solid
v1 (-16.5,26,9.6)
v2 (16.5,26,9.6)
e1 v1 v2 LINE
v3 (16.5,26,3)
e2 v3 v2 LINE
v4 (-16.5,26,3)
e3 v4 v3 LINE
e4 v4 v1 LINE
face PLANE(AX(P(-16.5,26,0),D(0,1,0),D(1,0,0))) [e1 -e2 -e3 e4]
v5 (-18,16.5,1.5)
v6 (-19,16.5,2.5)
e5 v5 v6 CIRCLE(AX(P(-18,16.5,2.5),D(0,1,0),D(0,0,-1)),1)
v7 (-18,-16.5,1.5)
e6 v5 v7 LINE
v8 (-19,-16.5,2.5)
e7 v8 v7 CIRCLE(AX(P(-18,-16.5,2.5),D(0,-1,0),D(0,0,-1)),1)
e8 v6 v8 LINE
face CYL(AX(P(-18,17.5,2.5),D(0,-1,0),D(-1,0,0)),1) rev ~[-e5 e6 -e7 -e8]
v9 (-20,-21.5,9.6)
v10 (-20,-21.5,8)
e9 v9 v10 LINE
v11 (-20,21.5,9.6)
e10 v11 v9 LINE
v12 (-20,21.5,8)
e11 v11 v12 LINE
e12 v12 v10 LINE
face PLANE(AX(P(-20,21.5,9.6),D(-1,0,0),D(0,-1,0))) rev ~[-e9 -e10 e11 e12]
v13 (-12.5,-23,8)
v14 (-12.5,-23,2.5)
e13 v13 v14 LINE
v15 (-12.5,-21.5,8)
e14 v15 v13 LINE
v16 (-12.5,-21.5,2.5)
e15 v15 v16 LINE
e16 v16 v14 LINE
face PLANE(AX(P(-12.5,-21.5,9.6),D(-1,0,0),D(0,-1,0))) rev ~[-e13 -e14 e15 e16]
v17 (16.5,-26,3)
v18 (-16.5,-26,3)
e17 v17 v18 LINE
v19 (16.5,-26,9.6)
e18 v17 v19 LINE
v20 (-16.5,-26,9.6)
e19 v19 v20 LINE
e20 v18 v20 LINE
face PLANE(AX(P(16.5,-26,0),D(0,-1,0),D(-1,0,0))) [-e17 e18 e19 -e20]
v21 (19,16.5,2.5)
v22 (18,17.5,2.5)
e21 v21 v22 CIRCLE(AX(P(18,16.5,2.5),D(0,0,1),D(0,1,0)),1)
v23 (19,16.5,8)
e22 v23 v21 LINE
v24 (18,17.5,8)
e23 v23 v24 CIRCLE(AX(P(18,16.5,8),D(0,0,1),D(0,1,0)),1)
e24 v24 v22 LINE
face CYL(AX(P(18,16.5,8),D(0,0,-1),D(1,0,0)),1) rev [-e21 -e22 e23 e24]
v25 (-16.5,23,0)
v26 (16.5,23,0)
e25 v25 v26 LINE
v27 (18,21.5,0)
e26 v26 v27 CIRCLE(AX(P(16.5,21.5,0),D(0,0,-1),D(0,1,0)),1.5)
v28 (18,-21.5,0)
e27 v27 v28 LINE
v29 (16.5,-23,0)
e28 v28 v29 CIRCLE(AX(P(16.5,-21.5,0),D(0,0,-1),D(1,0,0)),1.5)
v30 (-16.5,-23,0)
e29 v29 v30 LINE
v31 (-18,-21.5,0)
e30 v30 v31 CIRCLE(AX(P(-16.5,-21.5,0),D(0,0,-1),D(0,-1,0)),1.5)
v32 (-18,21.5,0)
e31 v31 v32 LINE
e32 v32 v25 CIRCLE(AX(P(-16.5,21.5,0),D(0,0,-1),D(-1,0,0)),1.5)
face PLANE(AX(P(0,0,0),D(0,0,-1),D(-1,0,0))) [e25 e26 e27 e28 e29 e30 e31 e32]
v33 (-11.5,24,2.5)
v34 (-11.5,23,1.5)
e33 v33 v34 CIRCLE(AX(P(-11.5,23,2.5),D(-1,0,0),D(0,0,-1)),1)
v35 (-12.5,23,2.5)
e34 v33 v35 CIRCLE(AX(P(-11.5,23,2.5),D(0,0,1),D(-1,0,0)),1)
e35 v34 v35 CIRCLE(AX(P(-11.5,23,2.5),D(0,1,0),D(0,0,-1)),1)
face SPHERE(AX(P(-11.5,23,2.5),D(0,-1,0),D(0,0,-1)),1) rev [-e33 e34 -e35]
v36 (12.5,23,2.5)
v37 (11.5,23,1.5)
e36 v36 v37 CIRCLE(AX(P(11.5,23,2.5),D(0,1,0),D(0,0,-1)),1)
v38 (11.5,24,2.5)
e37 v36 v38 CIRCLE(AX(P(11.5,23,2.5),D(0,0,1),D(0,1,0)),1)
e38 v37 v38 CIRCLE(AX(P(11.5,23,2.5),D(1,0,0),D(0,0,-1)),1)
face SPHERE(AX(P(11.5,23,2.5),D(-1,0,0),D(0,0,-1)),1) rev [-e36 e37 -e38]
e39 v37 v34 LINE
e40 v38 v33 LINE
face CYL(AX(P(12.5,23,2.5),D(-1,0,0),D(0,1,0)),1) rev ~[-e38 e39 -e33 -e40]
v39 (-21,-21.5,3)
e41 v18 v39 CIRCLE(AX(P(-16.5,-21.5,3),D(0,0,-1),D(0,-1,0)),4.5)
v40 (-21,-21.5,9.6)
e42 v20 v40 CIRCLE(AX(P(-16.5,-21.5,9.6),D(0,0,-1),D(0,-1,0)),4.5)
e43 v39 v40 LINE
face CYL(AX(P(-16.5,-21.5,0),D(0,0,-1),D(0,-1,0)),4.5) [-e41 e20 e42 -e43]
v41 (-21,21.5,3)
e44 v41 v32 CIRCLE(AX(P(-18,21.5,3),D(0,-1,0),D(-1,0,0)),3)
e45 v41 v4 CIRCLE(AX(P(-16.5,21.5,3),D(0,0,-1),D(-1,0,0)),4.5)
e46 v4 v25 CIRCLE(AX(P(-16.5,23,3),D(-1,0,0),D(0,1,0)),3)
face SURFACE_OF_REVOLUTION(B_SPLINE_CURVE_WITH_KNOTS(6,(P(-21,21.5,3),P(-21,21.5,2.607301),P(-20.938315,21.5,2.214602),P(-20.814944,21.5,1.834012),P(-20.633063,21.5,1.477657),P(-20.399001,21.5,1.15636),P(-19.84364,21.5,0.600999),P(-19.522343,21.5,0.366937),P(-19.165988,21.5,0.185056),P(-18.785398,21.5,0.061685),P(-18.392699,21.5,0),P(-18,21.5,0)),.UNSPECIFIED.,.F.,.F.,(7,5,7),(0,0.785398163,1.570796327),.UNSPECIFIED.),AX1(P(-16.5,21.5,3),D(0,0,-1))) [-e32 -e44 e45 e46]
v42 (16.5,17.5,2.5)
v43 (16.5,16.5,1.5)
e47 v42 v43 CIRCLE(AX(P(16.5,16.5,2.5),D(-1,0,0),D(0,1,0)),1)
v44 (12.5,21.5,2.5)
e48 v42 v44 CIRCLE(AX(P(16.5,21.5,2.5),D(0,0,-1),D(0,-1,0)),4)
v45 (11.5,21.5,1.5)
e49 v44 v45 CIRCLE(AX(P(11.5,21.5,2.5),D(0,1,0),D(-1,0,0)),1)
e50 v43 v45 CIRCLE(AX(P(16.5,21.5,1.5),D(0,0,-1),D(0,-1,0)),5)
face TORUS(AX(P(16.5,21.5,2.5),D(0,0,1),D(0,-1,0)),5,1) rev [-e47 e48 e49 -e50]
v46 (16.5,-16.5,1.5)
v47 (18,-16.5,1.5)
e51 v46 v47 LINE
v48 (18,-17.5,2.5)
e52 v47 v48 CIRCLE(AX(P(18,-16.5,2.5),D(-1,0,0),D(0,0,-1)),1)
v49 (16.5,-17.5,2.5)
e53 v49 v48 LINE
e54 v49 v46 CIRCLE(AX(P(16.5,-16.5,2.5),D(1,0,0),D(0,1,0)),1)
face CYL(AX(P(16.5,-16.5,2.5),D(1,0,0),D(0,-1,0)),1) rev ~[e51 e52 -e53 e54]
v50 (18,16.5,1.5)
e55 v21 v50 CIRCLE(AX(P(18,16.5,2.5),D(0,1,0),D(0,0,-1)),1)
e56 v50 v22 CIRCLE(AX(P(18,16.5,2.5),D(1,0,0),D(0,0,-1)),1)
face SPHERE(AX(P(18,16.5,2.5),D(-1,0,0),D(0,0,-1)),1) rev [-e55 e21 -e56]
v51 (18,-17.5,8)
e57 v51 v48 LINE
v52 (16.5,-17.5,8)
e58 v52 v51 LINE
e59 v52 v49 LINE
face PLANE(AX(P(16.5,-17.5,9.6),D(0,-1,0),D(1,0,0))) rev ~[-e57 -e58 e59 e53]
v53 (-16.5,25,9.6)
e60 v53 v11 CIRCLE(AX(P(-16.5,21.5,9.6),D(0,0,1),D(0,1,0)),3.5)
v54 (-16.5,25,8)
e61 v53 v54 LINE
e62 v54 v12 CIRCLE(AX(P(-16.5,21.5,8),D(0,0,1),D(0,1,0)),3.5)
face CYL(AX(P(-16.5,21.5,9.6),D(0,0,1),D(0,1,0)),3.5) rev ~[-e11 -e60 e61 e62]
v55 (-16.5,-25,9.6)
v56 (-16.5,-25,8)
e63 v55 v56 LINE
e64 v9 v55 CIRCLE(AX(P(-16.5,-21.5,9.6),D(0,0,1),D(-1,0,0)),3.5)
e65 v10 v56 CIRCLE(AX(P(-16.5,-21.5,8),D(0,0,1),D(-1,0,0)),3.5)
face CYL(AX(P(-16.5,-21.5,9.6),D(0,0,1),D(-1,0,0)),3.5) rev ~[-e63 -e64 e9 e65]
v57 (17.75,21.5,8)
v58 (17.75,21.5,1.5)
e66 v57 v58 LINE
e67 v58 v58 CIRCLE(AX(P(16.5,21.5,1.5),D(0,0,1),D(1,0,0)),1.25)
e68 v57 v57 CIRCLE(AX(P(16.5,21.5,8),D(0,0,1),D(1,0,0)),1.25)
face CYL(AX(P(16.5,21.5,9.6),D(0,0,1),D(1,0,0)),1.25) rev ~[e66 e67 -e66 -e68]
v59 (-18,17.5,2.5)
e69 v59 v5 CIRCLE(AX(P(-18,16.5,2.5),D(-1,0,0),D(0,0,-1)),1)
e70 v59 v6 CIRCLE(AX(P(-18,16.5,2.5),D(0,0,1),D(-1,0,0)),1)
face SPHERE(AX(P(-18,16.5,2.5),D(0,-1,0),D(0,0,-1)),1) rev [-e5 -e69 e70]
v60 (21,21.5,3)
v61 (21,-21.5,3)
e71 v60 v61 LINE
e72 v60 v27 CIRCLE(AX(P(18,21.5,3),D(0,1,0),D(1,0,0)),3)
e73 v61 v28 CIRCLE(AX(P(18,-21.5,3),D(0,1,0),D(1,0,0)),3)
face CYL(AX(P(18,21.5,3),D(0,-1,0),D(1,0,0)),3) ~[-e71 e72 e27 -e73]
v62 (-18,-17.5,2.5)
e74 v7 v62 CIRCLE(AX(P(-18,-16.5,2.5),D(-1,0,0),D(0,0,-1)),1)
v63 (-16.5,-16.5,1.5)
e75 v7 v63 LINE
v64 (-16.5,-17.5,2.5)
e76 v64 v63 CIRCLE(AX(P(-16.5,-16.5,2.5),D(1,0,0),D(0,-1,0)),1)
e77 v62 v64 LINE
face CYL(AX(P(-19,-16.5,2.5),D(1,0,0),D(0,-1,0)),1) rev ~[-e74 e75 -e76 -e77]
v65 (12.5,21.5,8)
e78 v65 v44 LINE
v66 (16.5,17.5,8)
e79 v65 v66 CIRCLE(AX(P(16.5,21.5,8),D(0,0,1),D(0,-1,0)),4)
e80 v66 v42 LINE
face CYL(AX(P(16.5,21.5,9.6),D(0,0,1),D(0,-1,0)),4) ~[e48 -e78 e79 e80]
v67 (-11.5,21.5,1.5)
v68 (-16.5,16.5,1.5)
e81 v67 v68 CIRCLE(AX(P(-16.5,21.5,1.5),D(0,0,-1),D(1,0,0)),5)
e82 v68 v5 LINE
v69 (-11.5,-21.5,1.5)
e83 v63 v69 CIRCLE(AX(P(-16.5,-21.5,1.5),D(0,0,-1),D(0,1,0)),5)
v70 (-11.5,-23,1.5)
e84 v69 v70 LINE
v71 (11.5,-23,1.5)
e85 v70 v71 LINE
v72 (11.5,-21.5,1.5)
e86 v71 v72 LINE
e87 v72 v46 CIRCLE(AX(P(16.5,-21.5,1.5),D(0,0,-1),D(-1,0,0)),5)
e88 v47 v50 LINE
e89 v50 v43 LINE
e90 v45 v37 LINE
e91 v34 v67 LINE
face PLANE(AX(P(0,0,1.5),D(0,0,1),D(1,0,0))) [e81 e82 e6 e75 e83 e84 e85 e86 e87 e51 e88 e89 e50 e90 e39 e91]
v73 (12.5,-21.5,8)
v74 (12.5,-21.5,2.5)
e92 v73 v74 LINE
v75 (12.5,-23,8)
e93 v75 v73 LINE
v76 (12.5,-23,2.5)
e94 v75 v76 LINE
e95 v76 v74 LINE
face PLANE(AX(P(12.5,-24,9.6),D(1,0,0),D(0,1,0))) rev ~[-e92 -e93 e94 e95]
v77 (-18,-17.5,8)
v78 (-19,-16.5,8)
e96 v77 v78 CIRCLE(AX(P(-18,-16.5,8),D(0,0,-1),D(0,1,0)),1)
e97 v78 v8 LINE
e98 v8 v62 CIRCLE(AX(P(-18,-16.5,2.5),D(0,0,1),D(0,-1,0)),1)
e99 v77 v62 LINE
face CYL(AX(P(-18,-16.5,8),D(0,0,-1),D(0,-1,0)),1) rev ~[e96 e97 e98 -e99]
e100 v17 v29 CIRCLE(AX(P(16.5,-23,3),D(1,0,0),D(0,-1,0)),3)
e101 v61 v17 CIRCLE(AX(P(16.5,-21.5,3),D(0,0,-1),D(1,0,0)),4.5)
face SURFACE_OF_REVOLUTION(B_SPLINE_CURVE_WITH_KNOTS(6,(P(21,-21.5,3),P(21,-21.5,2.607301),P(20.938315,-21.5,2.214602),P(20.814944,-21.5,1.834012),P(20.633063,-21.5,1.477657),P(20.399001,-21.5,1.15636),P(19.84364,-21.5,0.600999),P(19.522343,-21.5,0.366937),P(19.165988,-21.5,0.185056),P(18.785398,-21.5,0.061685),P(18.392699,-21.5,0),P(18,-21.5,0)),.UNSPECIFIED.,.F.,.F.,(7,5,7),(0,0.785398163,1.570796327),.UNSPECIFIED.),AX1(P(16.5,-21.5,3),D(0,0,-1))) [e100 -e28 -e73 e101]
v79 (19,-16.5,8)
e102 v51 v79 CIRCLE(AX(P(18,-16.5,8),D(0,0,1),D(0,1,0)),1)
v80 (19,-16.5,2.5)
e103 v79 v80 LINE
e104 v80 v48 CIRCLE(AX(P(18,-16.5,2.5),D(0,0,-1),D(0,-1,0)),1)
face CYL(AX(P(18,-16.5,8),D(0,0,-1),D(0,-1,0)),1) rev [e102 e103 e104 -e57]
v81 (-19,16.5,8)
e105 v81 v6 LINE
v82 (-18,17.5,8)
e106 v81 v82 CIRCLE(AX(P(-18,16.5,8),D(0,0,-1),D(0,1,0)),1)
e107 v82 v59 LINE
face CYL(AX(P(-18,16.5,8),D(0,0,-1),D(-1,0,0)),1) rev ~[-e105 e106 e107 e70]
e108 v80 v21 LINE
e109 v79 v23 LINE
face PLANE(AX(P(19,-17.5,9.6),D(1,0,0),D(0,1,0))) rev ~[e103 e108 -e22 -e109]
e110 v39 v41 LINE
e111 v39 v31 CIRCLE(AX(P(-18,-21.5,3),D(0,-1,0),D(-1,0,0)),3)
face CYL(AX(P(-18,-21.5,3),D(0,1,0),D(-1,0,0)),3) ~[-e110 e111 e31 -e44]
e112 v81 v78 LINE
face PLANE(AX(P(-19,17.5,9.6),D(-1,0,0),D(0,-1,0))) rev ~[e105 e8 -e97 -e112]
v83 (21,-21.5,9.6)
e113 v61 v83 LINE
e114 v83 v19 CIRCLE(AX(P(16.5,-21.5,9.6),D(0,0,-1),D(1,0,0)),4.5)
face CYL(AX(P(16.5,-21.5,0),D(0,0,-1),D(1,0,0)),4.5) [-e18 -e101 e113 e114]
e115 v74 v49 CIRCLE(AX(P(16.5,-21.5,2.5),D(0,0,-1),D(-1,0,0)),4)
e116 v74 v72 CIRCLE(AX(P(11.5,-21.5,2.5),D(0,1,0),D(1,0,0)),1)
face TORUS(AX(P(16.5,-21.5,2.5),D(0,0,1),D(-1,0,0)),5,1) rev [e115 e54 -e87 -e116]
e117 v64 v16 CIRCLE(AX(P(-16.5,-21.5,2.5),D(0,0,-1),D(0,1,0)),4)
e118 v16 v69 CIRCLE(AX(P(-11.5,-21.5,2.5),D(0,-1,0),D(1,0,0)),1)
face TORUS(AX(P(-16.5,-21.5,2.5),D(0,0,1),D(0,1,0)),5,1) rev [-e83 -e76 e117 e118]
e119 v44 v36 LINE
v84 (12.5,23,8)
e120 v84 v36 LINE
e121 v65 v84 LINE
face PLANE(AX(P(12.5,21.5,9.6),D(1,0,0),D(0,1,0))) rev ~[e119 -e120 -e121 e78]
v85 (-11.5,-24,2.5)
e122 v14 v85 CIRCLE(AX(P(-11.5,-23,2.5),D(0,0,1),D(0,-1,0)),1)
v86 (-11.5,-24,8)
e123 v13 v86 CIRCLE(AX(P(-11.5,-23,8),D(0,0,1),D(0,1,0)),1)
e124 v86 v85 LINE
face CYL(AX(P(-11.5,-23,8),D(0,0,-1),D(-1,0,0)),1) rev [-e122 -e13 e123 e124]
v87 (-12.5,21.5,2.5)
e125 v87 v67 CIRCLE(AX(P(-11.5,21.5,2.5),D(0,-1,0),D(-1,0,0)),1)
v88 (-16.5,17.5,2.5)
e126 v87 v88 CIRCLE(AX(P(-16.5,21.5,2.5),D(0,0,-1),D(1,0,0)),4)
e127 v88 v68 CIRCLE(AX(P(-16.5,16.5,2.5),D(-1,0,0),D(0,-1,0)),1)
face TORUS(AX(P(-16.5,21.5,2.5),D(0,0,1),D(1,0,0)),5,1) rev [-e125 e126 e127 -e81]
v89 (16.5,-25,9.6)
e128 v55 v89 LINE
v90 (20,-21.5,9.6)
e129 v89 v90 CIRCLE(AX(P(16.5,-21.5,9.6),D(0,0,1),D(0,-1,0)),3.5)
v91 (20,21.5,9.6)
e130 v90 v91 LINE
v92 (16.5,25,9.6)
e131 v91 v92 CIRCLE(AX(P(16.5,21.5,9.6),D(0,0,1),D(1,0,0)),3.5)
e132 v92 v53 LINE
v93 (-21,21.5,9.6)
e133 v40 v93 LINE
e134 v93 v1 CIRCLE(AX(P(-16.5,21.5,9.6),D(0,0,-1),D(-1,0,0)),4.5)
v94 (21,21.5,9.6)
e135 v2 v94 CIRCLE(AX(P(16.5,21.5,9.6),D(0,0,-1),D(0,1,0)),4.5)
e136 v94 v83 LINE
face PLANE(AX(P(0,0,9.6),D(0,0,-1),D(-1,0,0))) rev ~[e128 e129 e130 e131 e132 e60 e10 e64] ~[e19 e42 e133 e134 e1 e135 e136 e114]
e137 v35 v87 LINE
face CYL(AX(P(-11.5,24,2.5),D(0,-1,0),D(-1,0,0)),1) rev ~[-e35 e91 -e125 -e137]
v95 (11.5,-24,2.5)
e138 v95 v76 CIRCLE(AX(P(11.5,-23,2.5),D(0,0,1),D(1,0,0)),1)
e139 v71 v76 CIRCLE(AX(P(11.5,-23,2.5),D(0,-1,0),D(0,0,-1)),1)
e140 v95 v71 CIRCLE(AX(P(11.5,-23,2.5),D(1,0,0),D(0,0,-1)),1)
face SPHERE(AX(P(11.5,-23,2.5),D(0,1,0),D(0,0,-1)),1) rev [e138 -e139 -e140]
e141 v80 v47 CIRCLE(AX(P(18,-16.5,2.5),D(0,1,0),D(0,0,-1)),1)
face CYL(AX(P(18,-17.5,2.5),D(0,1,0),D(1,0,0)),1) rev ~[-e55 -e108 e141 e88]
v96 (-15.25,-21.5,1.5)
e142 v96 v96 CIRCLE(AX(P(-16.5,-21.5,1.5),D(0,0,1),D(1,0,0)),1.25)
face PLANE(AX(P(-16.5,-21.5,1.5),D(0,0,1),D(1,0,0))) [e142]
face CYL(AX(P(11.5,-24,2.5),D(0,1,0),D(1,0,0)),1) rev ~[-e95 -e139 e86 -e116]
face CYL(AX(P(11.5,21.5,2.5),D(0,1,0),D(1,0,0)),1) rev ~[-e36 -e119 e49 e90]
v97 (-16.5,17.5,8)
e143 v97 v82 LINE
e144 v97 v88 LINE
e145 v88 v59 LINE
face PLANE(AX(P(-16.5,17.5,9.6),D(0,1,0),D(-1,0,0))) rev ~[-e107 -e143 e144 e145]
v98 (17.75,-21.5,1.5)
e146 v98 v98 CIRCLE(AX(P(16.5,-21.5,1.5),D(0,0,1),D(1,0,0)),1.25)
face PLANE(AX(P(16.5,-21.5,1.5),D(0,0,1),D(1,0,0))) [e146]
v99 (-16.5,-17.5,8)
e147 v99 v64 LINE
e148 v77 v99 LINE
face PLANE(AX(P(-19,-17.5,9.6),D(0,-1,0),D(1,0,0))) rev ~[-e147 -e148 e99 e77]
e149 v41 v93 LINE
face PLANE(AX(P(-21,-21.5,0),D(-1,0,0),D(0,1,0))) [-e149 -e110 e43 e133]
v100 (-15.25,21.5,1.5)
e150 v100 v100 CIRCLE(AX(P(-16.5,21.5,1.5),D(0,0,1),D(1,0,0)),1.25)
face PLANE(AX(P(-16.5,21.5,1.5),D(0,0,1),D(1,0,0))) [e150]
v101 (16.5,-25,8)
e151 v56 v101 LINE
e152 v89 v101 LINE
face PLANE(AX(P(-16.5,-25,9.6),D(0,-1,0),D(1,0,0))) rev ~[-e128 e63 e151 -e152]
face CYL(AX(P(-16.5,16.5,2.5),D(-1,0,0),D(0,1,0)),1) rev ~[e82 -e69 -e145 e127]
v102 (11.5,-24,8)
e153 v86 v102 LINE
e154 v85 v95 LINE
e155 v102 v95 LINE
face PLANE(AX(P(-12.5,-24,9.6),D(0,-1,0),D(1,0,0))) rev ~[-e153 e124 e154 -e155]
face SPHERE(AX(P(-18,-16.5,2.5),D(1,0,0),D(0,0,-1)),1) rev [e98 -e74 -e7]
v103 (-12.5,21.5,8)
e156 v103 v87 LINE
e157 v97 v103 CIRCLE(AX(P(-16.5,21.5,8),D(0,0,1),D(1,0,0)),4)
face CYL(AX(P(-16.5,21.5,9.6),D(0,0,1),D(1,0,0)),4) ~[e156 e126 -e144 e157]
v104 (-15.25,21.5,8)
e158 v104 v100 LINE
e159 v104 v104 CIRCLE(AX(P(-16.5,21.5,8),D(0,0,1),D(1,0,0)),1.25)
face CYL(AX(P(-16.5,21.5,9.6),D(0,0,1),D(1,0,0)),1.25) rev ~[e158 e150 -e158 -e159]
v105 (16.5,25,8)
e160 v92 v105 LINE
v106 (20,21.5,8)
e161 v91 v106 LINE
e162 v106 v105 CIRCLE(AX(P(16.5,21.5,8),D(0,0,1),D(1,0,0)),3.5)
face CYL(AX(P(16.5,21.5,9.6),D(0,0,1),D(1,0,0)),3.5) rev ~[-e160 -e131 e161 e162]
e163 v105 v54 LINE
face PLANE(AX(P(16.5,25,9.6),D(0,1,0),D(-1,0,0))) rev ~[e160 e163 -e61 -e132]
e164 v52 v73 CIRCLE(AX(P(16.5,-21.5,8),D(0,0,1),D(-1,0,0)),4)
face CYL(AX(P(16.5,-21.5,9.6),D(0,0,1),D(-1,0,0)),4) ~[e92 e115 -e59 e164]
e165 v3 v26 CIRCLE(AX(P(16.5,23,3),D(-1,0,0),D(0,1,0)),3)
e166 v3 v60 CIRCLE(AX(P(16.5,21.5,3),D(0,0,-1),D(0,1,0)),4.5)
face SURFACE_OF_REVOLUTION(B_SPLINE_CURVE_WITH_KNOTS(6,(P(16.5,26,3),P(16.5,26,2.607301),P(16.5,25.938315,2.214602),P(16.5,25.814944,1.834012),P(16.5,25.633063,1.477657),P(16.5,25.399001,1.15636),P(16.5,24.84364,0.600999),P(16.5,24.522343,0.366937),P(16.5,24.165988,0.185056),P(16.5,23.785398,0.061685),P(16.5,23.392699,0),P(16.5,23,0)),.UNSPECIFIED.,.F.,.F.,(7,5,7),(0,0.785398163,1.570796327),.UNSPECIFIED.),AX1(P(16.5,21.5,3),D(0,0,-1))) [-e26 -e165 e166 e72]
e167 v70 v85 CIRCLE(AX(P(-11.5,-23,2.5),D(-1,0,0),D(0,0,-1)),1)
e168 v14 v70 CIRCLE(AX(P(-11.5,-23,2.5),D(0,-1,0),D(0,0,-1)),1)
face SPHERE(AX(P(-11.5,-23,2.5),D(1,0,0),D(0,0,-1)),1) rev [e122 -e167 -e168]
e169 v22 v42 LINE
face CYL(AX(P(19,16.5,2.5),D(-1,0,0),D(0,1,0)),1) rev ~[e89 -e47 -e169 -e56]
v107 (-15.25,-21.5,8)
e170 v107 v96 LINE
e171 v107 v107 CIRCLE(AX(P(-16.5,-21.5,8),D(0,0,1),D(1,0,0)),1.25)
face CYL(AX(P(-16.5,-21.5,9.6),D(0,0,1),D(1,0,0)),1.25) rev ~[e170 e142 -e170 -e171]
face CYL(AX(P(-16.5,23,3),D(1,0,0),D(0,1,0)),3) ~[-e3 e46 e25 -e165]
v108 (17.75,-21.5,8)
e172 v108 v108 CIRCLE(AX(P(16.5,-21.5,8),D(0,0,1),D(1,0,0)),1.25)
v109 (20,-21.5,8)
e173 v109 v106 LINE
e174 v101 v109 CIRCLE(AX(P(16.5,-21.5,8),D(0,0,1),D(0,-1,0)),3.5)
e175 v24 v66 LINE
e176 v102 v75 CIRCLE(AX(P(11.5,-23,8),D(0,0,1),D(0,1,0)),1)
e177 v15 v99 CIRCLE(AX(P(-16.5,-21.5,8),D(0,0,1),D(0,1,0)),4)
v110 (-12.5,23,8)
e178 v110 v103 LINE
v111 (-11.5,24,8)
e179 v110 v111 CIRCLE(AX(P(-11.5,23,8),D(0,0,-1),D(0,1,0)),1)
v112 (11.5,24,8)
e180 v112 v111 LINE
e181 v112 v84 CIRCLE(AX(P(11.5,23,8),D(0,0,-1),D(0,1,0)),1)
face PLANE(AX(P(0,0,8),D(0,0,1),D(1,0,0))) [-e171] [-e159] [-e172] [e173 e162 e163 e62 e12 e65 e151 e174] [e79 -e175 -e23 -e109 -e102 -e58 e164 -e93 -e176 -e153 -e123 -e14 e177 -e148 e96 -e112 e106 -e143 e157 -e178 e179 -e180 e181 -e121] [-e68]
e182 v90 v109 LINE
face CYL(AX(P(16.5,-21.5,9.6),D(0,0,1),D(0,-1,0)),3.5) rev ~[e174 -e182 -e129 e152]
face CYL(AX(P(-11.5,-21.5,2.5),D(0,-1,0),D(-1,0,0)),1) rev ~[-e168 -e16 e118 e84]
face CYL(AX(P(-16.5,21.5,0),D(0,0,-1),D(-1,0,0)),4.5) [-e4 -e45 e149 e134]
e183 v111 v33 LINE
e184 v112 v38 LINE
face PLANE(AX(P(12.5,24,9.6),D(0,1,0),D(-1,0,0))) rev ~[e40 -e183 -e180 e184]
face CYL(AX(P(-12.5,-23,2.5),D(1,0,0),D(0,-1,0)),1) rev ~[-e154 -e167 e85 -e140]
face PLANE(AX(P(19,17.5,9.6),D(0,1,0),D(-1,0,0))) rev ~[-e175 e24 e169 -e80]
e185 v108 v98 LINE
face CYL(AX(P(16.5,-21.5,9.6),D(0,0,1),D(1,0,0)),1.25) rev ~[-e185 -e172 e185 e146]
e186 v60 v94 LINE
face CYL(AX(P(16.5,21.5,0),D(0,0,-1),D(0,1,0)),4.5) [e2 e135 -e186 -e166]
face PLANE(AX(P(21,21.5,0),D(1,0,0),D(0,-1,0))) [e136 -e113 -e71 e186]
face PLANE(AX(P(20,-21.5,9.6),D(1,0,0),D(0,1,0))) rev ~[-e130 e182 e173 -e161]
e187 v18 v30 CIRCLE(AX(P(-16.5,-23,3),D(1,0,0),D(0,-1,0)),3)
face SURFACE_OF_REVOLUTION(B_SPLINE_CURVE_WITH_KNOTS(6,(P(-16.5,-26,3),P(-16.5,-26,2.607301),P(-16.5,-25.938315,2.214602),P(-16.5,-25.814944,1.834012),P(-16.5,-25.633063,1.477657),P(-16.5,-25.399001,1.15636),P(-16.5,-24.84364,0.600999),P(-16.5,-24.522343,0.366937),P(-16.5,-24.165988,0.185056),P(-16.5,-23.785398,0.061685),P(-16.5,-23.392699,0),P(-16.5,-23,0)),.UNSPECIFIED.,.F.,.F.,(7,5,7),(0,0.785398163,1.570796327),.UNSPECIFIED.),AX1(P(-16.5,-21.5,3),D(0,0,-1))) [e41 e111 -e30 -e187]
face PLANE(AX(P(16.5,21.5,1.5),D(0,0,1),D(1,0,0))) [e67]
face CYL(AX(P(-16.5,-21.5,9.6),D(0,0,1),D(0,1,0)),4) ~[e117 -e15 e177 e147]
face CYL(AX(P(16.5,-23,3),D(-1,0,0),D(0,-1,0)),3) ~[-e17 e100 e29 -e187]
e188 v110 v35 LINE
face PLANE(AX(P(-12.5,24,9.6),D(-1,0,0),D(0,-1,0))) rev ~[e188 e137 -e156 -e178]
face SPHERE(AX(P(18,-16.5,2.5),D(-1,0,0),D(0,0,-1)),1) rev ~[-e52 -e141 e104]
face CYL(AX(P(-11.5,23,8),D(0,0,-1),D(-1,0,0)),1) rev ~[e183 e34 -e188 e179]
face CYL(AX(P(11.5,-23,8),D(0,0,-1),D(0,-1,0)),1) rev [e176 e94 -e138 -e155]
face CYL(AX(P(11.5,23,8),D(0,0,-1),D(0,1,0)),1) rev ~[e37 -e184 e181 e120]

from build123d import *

# Parameters (mm, degrees)
BOSS_EXTRUDE1_DEPTH = 9.6
CUT_EXTRUDE1_START  = 9.6
CUT_EXTRUDE1_DEPTH  = 1.6
CUT_EXTRUDE2_START  = 9.6
CUT_EXTRUDE2_DEPTH  = 8.1
CUT_EXTRUDE3_START  = 9.6
SKETCH5_R           = 1.25
CUT_EXTRUDE3_DEPTH  = 8.1
FILLET2_R           = 1
FILLET3_R           = 3


with BuildPart() as part:
    # Sketch2 → Boss-Extrude1 (new body)
    with BuildSketch(Plane.XY):
        with BuildLine():
            Line((21, 21.5), (21, -21.5))
            ThreePointArc((21, -21.5), (19.681980515, -24.681980515), (16.5, -26))
            Line((16.5, -26), (-16.5, -26))
            ThreePointArc((-16.5, -26), (-19.681980515, -24.681980515), (-21, -21.5))
            Line((-21, -21.5), (-21, 21.5))
            ThreePointArc((-21, 21.5), (-19.681980515, 24.681980515), (-16.5, 26))
            Line((-16.5, 26), (16.5, 26))
            ThreePointArc((16.5, 26), (19.681980515, 24.681980515), (21, 21.5))
        make_face()
    extrude(amount=BOSS_EXTRUDE1_DEPTH)

    # Sketch3 → Cut-Extrude1 (cut)
    with BuildSketch(Plane.XY.offset(CUT_EXTRUDE1_START)):
        with BuildLine():
            Line((-20, 21.5), (-20, -21.5))
            ThreePointArc((-20, -21.5), (-18.974873734, -23.974873734), (-16.5, -25))
            Line((-16.5, -25), (16.5, -25))
            ThreePointArc((16.5, -25), (18.974873734, -23.974873734), (20, -21.5))
            Line((20, -21.5), (20, 21.5))
            ThreePointArc((20, 21.5), (18.974873734, 23.974873734), (16.5, 25))
            Line((16.5, 25), (-16.5, 25))
            ThreePointArc((-16.5, 25), (-18.974873734, 23.974873734), (-20, 21.5))
        make_face()
    extrude(amount=-CUT_EXTRUDE1_DEPTH, mode=Mode.SUBTRACT)

    # Sketch4 → Cut-Extrude2 (cut)
    with BuildSketch(Plane.XY.offset(CUT_EXTRUDE2_START)):
        with BuildLine():
            Line((-12.5, -21.5), (-12.5, -24))
            Line((-12.5, -24), (12.5, -24))
            Line((12.5, -24), (12.5, -21.5))
            ThreePointArc((12.5, -21.5), (13.671572875, -18.671572875), (16.5, -17.5))
            Line((16.5, -17.5), (19, -17.5))
            Line((19, -17.5), (19, 17.5))
            Line((19, 17.5), (16.5, 17.5))
            ThreePointArc((16.5, 17.5), (13.671572875, 18.671572875), (12.5, 21.5))
            Line((12.5, 21.5), (12.5, 24))
            Line((12.5, 24), (-12.5, 24))
            Line((-12.5, 24), (-12.5, 21.5))
            ThreePointArc((-12.5, 21.5), (-13.671572875, 18.671572875), (-16.5, 17.5))
            Line((-16.5, 17.5), (-19, 17.5))
            Line((-19, 17.5), (-19, -17.5))
            Line((-19, -17.5), (-16.5, -17.5))
            ThreePointArc((-16.5, -17.5), (-13.671572875, -18.671572875), (-12.5, -21.5))
        make_face()
    extrude(amount=-CUT_EXTRUDE2_DEPTH, mode=Mode.SUBTRACT)

    # Sketch5 → Cut-Extrude3 (cut)
    with BuildSketch(Plane.XY.offset(CUT_EXTRUDE3_START)):
        with Locations((-16.5, 21.5)):
            Circle(SKETCH5_R)
        with Locations((16.5, 21.5)):
            Circle(SKETCH5_R)
        with Locations((-16.5, -21.5)):
            Circle(SKETCH5_R)
        with Locations((16.5, -21.5)):
            Circle(SKETCH5_R)
    extrude(amount=-CUT_EXTRUDE3_DEPTH, mode=Mode.SUBTRACT)

    # Fillet2
    fillet2_edges = [part.edges().sort_by_distance(p)[0] for p in [
        (13.671572875, -18.671572875, 1.5),
        (12.5, -22.75, 1.5),
        (0, -24, 1.5),
        (12.5, -24, 4.75),
        (-12.5, -22.75, 1.5),
        (-12.5, -24, 4.75),
        (-13.671572875, -18.671572875, 1.5),
        (-17.75, -17.5, 1.5),
        (-19, 0, 1.5),
        (-19, -17.5, 4.75),
        (-17.75, 17.5, 1.5),
        (-19, 17.5, 4.75),
        (-13.671572875, 18.671572875, 1.5),
        (-12.5, 22.75, 1.5),
        (0, 24, 1.5),
        (-12.5, 24, 4.75),
        (12.5, 22.75, 1.5),
        (12.5, 24, 4.75),
        (13.671572875, 18.671572875, 1.5),
        (17.75, 17.5, 1.5),
        (19, 0, 1.5),
        (19, 17.5, 4.75),
        (17.75, -17.5, 1.5),
        (19, -17.5, 4.75),
    ]]
    fillet(fillet2_edges, radius=FILLET2_R)

    # Fillet3
    fillet3_edges = [part.edges().sort_by_distance(p)[0] for p in [
        (-21, 0, 0),
        (-19.681980515, 24.681980515, 0),
        (0, 26, 0),
        (19.681980515, 24.681980515, 0),
        (21, 0, 0),
        (19.681980515, -24.681980515, 0),
        (0, -26, 0),
        (-19.681980515, -24.681980515, 0),
    ]]
    fillet(fillet3_edges, radius=FILLET3_R)


solid = part.part
